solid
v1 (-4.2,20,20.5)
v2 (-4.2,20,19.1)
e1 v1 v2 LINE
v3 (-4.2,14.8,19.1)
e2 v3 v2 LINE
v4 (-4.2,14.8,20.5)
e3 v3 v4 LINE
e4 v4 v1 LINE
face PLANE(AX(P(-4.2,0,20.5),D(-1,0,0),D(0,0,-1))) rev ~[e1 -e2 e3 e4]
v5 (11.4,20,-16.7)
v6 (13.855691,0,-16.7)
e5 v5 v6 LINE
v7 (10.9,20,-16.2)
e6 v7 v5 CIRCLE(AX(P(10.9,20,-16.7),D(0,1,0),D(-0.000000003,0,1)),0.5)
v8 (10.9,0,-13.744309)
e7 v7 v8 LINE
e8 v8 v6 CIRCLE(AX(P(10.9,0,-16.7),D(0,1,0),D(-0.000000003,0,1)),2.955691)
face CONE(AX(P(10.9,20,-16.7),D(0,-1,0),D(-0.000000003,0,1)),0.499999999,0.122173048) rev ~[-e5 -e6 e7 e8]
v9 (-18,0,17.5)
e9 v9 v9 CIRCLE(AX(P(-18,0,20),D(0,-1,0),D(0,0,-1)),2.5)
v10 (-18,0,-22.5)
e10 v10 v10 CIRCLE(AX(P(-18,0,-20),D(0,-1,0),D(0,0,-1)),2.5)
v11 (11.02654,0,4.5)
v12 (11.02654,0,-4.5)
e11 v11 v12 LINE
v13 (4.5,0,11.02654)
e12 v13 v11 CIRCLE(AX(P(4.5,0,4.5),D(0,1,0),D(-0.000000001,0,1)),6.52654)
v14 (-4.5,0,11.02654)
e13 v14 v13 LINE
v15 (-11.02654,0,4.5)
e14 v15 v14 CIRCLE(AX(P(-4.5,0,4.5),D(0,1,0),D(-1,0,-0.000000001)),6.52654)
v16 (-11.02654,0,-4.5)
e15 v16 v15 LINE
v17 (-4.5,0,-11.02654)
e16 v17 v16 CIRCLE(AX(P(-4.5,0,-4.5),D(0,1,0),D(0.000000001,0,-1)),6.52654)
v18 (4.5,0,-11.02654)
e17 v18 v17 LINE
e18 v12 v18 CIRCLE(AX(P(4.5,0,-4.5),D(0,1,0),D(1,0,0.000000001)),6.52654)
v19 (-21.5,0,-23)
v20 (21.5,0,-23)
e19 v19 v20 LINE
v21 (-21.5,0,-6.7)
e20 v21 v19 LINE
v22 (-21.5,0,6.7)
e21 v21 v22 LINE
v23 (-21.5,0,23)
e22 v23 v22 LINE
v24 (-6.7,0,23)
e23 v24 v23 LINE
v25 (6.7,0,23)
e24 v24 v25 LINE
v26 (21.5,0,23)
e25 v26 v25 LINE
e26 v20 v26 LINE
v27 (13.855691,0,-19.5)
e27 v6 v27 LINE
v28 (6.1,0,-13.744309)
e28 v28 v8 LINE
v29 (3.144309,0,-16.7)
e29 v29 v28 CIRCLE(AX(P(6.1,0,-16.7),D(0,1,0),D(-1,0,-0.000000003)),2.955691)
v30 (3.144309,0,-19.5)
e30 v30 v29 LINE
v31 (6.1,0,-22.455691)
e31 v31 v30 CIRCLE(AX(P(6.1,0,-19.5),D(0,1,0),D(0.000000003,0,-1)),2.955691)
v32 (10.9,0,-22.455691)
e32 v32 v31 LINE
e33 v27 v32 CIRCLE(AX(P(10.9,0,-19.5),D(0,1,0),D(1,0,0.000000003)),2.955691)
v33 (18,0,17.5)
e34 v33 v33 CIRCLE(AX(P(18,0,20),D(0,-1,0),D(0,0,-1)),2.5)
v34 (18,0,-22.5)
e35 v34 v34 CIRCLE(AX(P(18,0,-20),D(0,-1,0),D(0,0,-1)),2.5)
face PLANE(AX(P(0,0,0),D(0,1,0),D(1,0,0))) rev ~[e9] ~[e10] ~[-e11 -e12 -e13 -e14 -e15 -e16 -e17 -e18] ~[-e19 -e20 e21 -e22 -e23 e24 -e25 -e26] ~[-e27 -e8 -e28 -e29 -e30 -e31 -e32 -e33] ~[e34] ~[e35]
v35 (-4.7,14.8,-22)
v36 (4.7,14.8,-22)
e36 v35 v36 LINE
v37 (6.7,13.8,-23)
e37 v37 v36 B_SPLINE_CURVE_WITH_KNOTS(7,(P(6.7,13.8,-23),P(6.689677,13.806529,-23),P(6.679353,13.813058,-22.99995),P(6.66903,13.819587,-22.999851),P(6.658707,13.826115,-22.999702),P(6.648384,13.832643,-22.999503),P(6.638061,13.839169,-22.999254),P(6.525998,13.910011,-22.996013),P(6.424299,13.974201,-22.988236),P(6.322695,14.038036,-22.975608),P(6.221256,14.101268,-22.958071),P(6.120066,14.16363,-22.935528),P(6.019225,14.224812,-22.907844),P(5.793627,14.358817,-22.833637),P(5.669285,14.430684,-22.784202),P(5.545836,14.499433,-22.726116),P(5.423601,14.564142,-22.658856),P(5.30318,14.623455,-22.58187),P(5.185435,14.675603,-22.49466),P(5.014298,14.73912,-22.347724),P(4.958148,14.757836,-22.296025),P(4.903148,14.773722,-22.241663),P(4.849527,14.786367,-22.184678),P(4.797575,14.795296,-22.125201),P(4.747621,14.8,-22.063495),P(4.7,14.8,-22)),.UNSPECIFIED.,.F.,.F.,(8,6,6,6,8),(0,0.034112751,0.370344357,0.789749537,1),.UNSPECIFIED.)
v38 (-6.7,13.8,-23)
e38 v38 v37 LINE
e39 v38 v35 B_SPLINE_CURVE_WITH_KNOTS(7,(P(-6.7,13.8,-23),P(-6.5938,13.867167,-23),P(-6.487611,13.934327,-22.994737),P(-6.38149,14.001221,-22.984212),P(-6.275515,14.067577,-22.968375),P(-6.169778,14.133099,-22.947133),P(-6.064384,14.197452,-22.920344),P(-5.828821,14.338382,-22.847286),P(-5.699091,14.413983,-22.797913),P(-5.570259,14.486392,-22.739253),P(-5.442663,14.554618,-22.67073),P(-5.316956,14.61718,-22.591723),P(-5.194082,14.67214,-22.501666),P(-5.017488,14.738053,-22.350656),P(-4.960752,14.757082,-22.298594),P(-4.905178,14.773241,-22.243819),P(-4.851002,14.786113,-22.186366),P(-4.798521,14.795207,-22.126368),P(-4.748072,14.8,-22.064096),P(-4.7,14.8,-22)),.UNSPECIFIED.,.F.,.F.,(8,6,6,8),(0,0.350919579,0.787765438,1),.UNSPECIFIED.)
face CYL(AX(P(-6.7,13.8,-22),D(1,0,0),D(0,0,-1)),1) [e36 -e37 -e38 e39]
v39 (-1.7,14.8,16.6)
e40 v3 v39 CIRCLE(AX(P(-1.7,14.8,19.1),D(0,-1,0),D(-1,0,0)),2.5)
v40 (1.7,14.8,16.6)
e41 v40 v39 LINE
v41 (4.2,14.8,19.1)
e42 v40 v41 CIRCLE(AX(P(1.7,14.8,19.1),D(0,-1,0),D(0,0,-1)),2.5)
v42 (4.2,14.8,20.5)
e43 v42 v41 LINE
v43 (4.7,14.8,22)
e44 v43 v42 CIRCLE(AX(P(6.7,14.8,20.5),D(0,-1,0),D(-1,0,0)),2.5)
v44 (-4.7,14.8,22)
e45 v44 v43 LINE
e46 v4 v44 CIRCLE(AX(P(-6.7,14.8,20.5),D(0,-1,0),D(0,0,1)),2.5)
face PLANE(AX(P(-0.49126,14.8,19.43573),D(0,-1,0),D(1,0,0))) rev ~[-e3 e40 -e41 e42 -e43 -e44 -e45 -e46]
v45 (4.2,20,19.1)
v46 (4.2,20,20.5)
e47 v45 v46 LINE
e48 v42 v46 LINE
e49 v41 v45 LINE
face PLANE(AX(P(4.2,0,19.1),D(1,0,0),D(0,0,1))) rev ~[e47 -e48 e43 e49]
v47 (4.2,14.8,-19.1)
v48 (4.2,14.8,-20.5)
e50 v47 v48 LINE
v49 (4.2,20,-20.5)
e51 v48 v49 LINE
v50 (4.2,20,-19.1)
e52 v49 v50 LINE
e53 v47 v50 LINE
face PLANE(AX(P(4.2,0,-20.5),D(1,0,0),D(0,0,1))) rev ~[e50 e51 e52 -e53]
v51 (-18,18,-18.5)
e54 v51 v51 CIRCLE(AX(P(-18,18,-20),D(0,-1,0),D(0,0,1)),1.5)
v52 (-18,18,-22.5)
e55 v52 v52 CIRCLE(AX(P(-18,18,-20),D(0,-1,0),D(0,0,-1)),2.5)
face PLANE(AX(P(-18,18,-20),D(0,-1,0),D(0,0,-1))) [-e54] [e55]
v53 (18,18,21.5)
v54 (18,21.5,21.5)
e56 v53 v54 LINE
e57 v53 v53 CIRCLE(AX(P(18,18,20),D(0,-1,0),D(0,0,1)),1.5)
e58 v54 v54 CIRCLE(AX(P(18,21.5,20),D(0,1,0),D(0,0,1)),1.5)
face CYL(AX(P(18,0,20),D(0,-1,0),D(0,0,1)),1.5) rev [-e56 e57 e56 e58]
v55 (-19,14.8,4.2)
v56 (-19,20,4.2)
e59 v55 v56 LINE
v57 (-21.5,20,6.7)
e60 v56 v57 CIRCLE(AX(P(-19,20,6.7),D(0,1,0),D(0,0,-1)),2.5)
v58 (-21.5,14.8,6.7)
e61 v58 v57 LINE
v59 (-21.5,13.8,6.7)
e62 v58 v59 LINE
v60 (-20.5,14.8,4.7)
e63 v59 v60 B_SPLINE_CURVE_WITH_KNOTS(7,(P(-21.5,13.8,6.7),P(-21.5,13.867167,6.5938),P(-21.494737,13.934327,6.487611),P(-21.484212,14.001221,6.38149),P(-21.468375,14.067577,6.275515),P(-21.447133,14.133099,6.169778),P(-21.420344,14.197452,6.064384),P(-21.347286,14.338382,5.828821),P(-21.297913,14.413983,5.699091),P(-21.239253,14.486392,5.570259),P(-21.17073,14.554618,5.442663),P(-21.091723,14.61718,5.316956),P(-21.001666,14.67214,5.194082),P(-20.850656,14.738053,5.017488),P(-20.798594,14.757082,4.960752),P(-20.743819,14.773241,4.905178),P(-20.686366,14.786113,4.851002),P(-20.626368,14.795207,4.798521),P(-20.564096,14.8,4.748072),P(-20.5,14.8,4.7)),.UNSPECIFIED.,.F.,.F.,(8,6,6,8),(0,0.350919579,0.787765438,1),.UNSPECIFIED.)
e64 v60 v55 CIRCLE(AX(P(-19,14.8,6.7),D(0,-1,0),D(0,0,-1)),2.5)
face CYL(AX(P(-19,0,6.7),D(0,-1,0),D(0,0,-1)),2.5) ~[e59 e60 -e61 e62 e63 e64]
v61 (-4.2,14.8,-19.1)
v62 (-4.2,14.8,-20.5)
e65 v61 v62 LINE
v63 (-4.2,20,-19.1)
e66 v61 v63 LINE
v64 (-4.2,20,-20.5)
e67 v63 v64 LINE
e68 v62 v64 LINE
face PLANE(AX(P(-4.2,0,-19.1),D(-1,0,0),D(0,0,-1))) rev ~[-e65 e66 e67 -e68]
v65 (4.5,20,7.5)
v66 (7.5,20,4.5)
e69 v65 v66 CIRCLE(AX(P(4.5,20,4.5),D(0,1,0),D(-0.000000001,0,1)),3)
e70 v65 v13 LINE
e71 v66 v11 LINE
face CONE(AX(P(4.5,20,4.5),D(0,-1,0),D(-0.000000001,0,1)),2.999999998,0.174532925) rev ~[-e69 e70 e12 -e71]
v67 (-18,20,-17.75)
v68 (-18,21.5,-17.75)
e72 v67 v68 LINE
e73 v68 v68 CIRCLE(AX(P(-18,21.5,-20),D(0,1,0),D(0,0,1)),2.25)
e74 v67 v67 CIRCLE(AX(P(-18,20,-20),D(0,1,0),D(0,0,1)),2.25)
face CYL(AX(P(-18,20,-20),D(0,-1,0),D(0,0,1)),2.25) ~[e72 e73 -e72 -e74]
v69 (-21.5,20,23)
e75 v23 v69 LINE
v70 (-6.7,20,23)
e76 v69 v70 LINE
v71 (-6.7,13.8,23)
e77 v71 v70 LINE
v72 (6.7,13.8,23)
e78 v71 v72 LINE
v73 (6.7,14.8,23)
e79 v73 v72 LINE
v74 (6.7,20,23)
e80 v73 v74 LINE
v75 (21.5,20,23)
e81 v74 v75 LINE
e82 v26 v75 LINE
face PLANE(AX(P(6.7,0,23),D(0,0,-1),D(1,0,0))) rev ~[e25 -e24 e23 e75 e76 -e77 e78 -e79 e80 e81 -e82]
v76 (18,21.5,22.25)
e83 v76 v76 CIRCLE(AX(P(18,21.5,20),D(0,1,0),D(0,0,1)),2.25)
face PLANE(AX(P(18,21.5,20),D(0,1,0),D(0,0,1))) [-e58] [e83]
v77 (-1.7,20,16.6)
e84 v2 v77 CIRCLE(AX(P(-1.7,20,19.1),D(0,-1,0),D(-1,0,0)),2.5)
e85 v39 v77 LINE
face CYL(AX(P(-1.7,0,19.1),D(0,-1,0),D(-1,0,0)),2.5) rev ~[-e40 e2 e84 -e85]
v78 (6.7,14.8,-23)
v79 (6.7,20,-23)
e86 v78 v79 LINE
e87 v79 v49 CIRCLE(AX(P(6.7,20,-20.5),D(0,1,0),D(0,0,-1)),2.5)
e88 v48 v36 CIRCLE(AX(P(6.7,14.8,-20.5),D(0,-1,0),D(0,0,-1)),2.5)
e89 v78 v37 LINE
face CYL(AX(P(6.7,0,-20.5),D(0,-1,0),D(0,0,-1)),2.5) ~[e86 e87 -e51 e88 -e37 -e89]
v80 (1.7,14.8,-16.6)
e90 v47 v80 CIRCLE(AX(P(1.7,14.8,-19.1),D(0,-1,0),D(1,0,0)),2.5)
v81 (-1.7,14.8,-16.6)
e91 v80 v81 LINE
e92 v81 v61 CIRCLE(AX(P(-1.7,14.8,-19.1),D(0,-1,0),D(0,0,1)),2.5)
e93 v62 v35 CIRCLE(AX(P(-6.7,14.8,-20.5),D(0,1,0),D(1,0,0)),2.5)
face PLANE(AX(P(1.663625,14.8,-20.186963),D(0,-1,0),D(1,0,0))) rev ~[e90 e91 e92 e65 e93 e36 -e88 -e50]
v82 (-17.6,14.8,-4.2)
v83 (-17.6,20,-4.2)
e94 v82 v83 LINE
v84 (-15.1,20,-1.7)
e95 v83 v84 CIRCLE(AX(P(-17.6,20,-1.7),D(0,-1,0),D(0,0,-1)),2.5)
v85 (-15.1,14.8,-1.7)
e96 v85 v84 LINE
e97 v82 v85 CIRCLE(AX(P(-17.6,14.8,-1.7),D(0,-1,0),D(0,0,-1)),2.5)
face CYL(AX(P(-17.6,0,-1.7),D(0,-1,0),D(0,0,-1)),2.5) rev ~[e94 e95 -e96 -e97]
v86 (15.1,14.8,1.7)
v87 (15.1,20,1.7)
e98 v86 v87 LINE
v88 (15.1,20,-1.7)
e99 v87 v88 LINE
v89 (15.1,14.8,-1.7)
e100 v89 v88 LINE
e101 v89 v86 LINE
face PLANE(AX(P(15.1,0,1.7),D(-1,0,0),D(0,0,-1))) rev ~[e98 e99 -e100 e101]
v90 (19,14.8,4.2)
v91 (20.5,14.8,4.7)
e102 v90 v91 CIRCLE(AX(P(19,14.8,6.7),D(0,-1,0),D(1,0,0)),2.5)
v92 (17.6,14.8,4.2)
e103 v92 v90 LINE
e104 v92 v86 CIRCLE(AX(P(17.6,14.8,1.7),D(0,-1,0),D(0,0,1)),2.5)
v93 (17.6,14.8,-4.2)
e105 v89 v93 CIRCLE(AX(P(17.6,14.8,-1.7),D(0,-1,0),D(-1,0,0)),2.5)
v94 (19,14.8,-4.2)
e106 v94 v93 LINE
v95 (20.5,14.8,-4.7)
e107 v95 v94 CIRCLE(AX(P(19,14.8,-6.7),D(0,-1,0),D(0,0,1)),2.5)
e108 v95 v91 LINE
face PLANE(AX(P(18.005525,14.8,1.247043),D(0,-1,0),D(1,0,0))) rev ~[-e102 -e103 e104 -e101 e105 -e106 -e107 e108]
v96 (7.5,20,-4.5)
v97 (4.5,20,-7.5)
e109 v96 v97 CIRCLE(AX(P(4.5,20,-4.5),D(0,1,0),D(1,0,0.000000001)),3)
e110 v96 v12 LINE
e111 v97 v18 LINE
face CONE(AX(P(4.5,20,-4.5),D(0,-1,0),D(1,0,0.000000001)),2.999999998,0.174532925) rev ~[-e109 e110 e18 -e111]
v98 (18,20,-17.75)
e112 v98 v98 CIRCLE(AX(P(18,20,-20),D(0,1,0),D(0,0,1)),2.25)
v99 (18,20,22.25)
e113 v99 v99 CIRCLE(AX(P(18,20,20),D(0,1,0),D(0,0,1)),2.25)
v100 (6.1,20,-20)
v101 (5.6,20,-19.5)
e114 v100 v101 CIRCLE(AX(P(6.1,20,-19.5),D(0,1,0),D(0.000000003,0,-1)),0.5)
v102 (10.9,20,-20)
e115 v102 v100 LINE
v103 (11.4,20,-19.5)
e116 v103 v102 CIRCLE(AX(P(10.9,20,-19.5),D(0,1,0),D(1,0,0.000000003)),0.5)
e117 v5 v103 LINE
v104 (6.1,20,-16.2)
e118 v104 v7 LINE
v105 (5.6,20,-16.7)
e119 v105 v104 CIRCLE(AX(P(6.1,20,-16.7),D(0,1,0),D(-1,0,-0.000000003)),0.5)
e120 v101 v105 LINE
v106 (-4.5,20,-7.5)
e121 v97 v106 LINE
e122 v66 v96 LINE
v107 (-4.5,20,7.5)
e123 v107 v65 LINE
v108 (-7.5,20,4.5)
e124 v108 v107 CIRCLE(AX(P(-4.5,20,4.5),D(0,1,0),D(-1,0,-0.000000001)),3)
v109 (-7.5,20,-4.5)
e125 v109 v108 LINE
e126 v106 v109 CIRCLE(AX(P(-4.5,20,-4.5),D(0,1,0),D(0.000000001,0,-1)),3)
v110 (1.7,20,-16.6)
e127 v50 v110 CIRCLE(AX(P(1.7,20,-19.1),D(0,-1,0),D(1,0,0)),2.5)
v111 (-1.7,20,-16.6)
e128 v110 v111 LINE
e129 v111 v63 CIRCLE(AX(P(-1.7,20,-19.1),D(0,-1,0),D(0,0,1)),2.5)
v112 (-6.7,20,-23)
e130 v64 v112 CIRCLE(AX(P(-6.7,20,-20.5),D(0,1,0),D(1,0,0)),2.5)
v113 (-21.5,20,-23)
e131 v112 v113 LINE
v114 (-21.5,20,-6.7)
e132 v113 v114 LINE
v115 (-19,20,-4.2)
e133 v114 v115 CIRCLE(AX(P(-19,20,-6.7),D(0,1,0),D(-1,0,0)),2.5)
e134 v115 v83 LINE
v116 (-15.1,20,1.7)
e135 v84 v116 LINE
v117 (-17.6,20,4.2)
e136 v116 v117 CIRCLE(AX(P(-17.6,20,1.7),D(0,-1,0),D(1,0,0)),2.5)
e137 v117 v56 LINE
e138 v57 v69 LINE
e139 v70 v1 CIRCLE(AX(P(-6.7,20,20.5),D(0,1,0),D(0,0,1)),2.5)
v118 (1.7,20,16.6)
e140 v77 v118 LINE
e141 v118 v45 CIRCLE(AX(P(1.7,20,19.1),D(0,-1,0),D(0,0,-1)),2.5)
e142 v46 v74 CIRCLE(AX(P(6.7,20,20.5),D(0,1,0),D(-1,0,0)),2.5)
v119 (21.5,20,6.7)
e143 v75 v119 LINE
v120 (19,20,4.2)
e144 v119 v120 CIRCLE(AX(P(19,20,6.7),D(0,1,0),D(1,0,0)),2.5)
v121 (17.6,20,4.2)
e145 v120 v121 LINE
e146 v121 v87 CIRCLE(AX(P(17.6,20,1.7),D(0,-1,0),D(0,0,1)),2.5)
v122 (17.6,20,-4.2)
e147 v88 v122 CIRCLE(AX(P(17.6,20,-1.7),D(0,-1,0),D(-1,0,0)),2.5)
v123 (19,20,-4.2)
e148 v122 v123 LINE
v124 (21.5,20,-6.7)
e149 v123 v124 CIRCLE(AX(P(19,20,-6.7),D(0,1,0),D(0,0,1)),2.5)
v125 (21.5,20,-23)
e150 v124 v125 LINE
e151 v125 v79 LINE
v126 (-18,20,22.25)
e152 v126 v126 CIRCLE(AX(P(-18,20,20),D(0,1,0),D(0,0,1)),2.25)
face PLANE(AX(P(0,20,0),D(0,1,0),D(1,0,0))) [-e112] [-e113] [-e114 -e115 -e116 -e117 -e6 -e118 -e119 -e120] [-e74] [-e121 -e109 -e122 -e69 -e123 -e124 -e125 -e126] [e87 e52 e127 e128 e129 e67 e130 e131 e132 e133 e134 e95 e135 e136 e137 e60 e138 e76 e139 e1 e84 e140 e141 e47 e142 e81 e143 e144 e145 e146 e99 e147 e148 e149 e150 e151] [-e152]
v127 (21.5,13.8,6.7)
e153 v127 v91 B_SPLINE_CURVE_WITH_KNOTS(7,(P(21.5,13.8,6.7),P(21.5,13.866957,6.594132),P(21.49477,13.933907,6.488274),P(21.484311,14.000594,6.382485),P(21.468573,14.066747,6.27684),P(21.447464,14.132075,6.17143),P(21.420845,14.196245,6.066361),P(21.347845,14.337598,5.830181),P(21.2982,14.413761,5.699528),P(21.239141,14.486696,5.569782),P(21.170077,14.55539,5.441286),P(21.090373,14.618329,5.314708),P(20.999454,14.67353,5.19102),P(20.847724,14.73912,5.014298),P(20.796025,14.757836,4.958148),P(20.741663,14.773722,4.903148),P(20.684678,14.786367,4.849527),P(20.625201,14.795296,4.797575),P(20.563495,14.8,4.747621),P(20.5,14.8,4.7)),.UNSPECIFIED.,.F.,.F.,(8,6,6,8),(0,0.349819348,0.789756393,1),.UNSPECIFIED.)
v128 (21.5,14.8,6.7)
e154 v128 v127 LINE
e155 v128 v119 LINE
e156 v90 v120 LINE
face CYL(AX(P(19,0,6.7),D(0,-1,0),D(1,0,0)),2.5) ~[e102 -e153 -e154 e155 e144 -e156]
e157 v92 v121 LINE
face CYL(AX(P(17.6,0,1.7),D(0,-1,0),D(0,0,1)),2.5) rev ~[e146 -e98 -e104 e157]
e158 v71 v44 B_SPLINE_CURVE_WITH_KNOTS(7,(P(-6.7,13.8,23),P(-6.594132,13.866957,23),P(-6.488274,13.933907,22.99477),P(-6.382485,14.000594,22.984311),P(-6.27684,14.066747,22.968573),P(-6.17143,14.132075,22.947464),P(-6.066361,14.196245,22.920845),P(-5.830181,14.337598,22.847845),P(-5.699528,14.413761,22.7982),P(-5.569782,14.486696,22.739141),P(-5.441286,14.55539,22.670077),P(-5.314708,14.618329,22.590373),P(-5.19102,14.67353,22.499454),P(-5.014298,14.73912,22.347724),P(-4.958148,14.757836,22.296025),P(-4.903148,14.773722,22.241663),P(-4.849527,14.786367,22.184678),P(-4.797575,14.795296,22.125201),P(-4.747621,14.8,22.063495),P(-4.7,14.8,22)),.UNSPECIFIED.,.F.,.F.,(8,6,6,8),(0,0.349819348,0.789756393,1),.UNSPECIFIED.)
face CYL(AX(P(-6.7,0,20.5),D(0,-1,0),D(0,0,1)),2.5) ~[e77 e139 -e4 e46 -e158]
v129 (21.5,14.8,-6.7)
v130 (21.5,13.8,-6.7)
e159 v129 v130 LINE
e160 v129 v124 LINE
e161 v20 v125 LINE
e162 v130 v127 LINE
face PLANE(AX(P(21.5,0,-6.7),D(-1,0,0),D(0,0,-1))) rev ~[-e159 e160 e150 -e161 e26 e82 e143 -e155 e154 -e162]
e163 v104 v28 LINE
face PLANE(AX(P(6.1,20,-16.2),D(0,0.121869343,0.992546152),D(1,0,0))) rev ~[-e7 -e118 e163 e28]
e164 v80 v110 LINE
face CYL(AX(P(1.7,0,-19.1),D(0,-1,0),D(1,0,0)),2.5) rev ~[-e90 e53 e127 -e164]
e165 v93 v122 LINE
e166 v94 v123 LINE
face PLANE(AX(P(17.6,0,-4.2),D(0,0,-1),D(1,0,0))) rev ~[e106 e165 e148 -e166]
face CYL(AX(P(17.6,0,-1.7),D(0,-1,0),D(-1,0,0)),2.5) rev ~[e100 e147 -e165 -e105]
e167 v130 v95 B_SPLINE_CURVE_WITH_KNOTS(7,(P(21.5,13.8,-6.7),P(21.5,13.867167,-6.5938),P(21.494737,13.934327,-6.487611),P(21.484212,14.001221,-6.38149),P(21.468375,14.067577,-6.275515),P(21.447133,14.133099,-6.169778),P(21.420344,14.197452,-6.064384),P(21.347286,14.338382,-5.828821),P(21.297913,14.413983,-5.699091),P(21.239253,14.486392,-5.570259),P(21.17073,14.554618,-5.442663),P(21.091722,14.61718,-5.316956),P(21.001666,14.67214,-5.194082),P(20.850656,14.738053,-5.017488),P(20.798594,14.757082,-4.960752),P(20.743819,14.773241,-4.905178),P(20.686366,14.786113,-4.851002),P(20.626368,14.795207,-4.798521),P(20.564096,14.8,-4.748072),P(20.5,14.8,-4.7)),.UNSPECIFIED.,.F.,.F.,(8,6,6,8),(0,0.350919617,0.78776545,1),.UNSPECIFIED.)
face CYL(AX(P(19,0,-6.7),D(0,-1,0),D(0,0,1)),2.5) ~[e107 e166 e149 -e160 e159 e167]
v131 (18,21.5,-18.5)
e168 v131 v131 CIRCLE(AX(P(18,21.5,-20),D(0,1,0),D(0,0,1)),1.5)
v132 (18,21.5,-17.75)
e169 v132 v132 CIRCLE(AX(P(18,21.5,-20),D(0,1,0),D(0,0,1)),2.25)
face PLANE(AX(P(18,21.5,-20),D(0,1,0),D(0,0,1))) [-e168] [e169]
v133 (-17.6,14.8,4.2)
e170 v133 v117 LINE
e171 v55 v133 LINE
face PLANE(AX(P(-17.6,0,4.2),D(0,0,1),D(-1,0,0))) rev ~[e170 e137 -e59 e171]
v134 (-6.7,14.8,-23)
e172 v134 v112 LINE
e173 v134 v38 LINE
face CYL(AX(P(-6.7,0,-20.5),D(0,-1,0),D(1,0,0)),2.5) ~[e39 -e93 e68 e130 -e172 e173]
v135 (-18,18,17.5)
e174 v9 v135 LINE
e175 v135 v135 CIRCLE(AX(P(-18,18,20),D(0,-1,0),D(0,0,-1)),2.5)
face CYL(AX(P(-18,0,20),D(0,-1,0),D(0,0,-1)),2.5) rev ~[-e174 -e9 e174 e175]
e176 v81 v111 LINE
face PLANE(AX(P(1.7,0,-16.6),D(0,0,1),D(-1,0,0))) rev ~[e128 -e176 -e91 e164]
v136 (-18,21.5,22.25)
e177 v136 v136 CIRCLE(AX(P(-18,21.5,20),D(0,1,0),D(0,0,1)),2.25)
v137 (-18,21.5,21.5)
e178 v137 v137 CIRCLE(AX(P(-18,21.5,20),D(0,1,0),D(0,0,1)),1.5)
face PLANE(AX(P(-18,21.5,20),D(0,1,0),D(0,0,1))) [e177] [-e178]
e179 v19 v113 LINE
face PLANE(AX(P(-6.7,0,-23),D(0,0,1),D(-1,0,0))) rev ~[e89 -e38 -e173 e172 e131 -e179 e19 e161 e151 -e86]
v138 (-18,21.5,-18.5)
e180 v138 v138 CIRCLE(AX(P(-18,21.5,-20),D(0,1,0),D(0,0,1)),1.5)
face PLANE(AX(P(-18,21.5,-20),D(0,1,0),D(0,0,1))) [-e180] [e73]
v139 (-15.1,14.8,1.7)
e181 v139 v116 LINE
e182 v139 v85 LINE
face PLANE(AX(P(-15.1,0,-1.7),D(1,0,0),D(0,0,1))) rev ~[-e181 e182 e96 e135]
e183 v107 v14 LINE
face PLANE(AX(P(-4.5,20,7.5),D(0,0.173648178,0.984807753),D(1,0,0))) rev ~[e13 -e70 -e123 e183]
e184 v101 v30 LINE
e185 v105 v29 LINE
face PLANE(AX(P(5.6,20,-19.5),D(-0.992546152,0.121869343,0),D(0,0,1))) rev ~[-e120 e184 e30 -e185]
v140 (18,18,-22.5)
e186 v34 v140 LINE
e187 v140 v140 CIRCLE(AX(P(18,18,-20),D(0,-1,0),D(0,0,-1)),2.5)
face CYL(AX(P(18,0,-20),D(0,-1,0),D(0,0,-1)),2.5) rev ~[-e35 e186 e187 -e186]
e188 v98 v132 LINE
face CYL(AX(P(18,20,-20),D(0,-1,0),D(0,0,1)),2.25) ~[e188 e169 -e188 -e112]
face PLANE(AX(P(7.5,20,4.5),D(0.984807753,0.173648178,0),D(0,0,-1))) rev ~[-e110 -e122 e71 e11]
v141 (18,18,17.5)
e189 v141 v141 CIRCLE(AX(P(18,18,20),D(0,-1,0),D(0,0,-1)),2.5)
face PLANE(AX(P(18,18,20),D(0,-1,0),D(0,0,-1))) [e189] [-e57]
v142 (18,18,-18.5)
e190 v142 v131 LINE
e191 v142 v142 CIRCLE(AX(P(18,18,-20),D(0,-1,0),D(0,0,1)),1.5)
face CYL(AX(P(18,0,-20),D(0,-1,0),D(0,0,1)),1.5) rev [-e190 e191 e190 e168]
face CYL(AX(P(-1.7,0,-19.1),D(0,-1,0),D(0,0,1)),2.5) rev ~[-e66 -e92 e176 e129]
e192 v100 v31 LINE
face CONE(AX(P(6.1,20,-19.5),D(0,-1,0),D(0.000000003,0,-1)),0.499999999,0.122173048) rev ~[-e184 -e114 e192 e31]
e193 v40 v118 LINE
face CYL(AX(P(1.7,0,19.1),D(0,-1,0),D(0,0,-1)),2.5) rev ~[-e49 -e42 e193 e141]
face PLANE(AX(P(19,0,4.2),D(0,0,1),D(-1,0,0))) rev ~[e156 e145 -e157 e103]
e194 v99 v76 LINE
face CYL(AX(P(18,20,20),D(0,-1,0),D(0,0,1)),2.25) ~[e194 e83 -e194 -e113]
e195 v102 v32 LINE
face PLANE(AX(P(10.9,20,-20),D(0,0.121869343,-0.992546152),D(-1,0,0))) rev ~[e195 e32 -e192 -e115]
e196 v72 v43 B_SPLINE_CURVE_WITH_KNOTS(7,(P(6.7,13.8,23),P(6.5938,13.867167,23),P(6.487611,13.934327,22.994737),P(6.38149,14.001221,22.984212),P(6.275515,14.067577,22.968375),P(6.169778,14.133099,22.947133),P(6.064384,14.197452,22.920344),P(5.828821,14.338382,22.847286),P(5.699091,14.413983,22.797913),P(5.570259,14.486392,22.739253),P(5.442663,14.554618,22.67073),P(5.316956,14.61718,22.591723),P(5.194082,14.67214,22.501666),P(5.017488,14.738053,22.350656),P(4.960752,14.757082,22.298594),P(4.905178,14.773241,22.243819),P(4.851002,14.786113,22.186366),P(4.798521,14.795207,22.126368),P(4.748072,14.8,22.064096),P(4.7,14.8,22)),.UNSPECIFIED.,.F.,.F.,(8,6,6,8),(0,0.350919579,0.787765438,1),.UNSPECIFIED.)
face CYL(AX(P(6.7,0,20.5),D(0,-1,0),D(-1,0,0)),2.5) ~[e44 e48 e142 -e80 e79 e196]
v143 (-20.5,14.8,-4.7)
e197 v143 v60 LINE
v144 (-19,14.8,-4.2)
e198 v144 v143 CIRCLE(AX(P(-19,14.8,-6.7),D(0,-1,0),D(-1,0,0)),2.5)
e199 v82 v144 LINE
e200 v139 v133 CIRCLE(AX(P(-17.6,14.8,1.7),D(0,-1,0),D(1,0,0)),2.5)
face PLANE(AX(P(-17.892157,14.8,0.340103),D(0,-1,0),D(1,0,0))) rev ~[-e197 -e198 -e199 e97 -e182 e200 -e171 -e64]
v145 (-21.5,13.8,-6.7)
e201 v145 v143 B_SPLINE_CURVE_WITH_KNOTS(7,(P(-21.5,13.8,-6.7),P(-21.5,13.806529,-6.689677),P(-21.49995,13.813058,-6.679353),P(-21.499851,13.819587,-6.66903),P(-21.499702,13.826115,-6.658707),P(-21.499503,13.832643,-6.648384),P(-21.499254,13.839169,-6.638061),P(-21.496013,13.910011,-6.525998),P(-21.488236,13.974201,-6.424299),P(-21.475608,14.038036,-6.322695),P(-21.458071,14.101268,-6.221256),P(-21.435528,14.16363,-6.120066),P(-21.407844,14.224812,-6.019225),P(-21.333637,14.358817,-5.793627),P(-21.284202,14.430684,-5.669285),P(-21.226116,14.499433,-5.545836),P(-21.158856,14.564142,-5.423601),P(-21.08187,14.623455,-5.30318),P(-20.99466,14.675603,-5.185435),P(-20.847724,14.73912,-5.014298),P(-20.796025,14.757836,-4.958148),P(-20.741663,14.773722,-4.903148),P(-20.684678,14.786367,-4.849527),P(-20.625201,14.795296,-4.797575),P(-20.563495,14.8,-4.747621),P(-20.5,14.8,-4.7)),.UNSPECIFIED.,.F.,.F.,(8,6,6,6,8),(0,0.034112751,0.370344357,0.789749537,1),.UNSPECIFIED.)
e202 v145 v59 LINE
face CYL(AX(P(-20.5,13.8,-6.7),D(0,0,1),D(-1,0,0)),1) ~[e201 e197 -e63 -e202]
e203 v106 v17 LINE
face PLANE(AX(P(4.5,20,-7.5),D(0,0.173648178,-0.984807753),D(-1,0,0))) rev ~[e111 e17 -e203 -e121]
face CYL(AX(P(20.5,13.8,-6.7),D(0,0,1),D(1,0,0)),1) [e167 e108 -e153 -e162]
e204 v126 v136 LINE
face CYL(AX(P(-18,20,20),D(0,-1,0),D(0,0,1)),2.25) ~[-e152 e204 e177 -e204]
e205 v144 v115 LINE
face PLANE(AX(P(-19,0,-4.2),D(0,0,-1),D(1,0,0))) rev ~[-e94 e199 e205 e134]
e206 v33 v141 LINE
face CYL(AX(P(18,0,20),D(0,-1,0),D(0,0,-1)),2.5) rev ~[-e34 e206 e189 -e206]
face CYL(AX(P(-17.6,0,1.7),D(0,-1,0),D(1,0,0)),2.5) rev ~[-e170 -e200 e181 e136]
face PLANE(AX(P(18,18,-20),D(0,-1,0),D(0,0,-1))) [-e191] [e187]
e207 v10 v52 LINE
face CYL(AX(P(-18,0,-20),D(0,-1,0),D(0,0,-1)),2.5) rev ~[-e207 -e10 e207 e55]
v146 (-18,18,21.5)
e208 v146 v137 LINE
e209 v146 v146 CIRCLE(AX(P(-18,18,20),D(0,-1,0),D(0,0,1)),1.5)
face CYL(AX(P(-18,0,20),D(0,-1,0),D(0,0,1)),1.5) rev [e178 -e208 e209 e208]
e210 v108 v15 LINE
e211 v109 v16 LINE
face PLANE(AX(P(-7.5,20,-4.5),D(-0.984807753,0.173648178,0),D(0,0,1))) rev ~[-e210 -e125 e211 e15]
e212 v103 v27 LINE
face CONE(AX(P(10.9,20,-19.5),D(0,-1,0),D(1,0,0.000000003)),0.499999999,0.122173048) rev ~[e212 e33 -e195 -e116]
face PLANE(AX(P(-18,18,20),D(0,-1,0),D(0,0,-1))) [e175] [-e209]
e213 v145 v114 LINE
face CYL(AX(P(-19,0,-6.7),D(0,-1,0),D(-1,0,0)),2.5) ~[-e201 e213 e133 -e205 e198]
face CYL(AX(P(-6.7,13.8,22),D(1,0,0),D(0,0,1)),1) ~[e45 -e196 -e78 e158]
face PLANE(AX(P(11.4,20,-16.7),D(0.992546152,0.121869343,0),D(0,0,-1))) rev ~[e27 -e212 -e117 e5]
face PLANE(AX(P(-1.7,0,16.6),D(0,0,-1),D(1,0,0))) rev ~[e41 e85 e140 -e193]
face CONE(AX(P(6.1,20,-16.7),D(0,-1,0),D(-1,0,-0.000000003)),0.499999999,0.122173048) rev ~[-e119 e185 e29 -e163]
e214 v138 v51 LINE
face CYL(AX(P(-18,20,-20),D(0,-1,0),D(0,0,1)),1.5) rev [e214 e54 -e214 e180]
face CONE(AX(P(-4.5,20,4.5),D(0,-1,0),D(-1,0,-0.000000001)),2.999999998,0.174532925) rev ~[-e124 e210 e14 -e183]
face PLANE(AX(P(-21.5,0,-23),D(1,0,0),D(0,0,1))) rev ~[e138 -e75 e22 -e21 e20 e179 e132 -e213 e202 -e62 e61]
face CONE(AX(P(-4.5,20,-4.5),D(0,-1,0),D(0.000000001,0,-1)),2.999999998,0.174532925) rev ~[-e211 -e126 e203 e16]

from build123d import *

# Parameters (mm, degrees)
ESQUISSE1_R             = 1.5
BOSS_EXTRU_1_DEPTH      = 20
ESQUISSE2_R             = 2.25
ESQUISSE2_R_2           = 1.5
BOSS_EXTRU_2_DEPTH      = 1.5
ESQUISSE6_W             = 7.215685205
ESQUISSE6_H             = 18.365547593
ESQUISSE6_W_2           = 15.795882497
ESQUISSE6_H_2           = 7.128539117
ESQUISSE6_W_3           = 6.98895005
ESQUISSE6_H_3           = 20.179428837
BOSS_EXTRU_3_DEPTH      = 14.8
ENL_V_MAT_EXTRU_1_DEPTH = 20
ENL_V_MAT_EXTRU_1_DRAFT = 10
ENL_V_MAT_EXTRU_2_DEPTH = 20
ENL_V_MAT_EXTRU_2_DRAFT = 7
ESQUISSE5_R             = 2.5
ENL_V_MAT_EXTRU_3_DEPTH = 18
CONG_4_R                = 1
CONG_5_R                = 1
CONG_6_R                = 1
CONG_7_R                = 1


with BuildPart() as part:
    # Esquisse1 → Boss.-Extru.1 (new body)
    with BuildSketch(Plane(origin=(0, 0, 0), x_dir=(1, 0, 0), z_dir=(0, 1, 0))):
        with BuildLine():
            Line((-19, 4.2), (-17.6, 4.2))
            ThreePointArc((-17.6, 4.2), (-15.832233047, 3.467766953), (-15.1, 1.7))
            Line((-15.1, 1.7), (-15.1, -1.7))
            ThreePointArc((-15.1, -1.7), (-15.832233047, -3.467766953), (-17.6, -4.2))
            Line((-17.6, -4.2), (-19, -4.2))
            ThreePointArc((-19, -4.2), (-20.767766953, -4.932233047), (-21.5, -6.7))
            Line((-21.5, -6.7), (-21.5, -20.5))
            Line((-21.5, -20.5), (-21.5, -23))
            Line((-21.5, -23), (-19, -23))
            Line((-19, -23), (-6.7, -23))
            ThreePointArc((-6.7, -23), (-4.932233047, -22.267766953), (-4.2, -20.5))
            Line((-4.2, -20.5), (-4.2, -19.1))
            ThreePointArc((-4.2, -19.1), (-3.467766953, -17.332233047), (-1.7, -16.6))
            Line((-1.7, -16.6), (1.7, -16.6))
            ThreePointArc((1.7, -16.6), (3.467766953, -17.332233047), (4.2, -19.1))
            Line((4.2, -19.1), (4.2, -20.5))
            ThreePointArc((4.2, -20.5), (4.932233047, -22.267766953), (6.7, -23))
            Line((6.7, -23), (19, -23))
            Line((19, -23), (21.5, -23))
            Line((21.5, -23), (21.5, -20.5))
            Line((21.5, -20.5), (21.5, -6.7))
            ThreePointArc((21.5, -6.7), (20.767766953, -4.932233047), (19, -4.2))
            Line((19, -4.2), (17.6, -4.2))
            ThreePointArc((17.6, -4.2), (15.832233047, -3.467766953), (15.1, -1.7))
            Line((15.1, -1.7), (15.1, 1.7))
            ThreePointArc((15.1, 1.7), (15.832233047, 3.467766953), (17.6, 4.2))
            Line((17.6, 4.2), (19, 4.2))
            ThreePointArc((19, 4.2), (20.767766953, 4.932233047), (21.5, 6.7))
            Line((21.5, 6.7), (21.5, 20.5))
            Line((21.5, 20.5), (21.5, 23))
            Line((21.5, 23), (19, 23))
            Line((19, 23), (6.7, 23))
            ThreePointArc((6.7, 23), (4.932233047, 22.267766953), (4.2, 20.5))
            Line((4.2, 20.5), (4.2, 19.1))
            ThreePointArc((4.2, 19.1), (3.467766953, 17.332233047), (1.7, 16.6))
            Line((1.7, 16.6), (-1.7, 16.6))
            ThreePointArc((-1.7, 16.6), (-3.467766953, 17.332233047), (-4.2, 19.1))
            Line((-4.2, 19.1), (-4.2, 20.5))
            ThreePointArc((-4.2, 20.5), (-4.932233047, 22.267766953), (-6.7, 23))
            Line((-6.7, 23), (-19, 23))
            Line((-19, 23), (-21.5, 23))
            Line((-21.5, 23), (-21.5, 20.5))
            Line((-21.5, 20.5), (-21.5, 6.7))
            ThreePointArc((-21.5, 6.7), (-20.767766953, 4.932233047), (-19, 4.2))
        make_face()
        with Locations(Location((-18, 20, 0), (0, 0, 270))):
            Circle(ESQUISSE1_R, mode=Mode.SUBTRACT)
        with Locations(Location((18, 20, 0), (0, 0, 270))):
            Circle(ESQUISSE1_R, mode=Mode.SUBTRACT)
        with Locations(Location((18, -20, 0), (0, 0, 270))):
            Circle(ESQUISSE1_R, mode=Mode.SUBTRACT)
        with Locations(Location((-18, -20, 0), (0, 0, 270))):
            Circle(ESQUISSE1_R, mode=Mode.SUBTRACT)
    extrude(amount=BOSS_EXTRU_1_DEPTH)

    # Esquisse2 → Boss.-Extru.2 (add)
    # profile 1 of 4: a face of its own
    with BuildSketch(Plane(origin=(0, 20, 0), x_dir=(1, 0, 0), z_dir=(0, 1, 0))):
        with Locations(Location((-18, 20, 0), (0, 0, 270))):
            Circle(ESQUISSE2_R)
        with Locations(Location((-18, 20, 0), (0, 0, 270))):
            Circle(ESQUISSE2_R_2, mode=Mode.SUBTRACT)
    # profile 2 of 4: a face of its own
    with BuildSketch(Plane(origin=(0, 20, 0), x_dir=(1, 0, 0), z_dir=(0, 1, 0))):
        with Locations(Location((18, 20, 0), (0, 0, 270))):
            Circle(ESQUISSE2_R)
        with Locations(Location((18, 20, 0), (0, 0, 270))):
            Circle(ESQUISSE2_R_2, mode=Mode.SUBTRACT)
    # profile 3 of 4: a face of its own
    with BuildSketch(Plane(origin=(0, 20, 0), x_dir=(1, 0, 0), z_dir=(0, 1, 0))):
        with Locations(Location((18, -20, 0), (0, 0, 270))):
            Circle(ESQUISSE2_R)
        with Locations(Location((18, -20, 0), (0, 0, 270))):
            Circle(ESQUISSE2_R_2, mode=Mode.SUBTRACT)
    # profile 4 of 4: a face of its own
    with BuildSketch(Plane(origin=(0, 20, 0), x_dir=(1, 0, 0), z_dir=(0, 1, 0))):
        with Locations(Location((-18, -20, 0), (0, 0, 270))):
            Circle(ESQUISSE2_R)
        with Locations(Location((-18, -20, 0), (0, 0, 270))):
            Circle(ESQUISSE2_R_2, mode=Mode.SUBTRACT)
    extrude(amount=BOSS_EXTRU_2_DEPTH)

    # Esquisse6 → Boss.-Extru.3 (add)
    with BuildSketch(Plane.XZ):
        with Locations((-17.892157398, 0.340102734)):
            Rectangle(ESQUISSE6_W, ESQUISSE6_H)
        with Locations((-0.491259504, 19.435730441)):
            Rectangle(ESQUISSE6_W_2, ESQUISSE6_H_2)
        with Locations((18.005524975, 1.247043355)):
            Rectangle(ESQUISSE6_W_3, ESQUISSE6_H_3)
        with BuildLine():
            Line((-4.2, -19.1), (-4.2, -20.5))
            ThreePointArc((-4.2, -20.5), (-4.932233047, -22.267766953), (-6.7, -23))
            Line((-6.7, -23), (8.691514293, -23))
            Line((8.691514293, -23), (8.691514293, -16.6))
            Line((8.691514293, -16.6), (-1.7, -16.6))
            ThreePointArc((-1.7, -16.6), (-3.467766953, -17.332233047), (-4.2, -19.1))
        make_face()
    extrude(amount=-BOSS_EXTRU_3_DEPTH)


with BuildPart() as enl_v_mat_extru_1_tool:
    # Esquisse3 → Enlèv. mat.-Extru.1 (with draft: the straight prism first)
    with BuildSketch(Plane(origin=(0, 20, 0), x_dir=(1, 0, 0), z_dir=(0, 1, 0))):
        with BuildLine():
            ThreePointArc((-4.5, 7.5), (-6.621320344, 6.621320344), (-7.5, 4.5))
            Line((-7.5, 4.5), (-7.5, -4.5))
            ThreePointArc((-7.5, -4.5), (-6.621320344, -6.621320344), (-4.5, -7.5))
            Line((-4.5, -7.5), (4.5, -7.5))
            ThreePointArc((4.5, -7.5), (6.621320344, -6.621320344), (7.5, -4.5))
            Line((7.5, -4.5), (7.5, 4.5))
            ThreePointArc((7.5, 4.5), (6.621320344, 6.621320344), (4.5, 7.5))
            Line((4.5, 7.5), (-4.5, 7.5))
        make_face()
    extrude(amount=-ENL_V_MAT_EXTRU_1_DEPTH)
    # Enlèv. mat.-Extru.1: the draft: its side faces are tilted about the plane it starts from
    enl_v_mat_extru_1_sides = [enl_v_mat_extru_1_tool.faces().sort_by_distance(p)[0] for p in [
        (-6.621320344, 10, -6.621320344),
        (-7.5, 10, 0),
        (-6.621320344, 10, 6.621320344),
        (0, 10, 7.5),
        (6.621320344, 10, 6.621320344),
        (7.5, 10, 0),
        (6.621320344, 10, -6.621320344),
        (0, 10, -7.5),
    ]]
    draft(enl_v_mat_extru_1_sides, Plane(origin=(0, 20, 0), x_dir=(1, 0, 0), z_dir=(0, 1, 0)), ENL_V_MAT_EXTRU_1_DRAFT)


with BuildPart() as part_1:
    add(part.part)

    # Enlèv. mat.-Extru.1: cut by enl_v_mat_extru_1_tool
    add(enl_v_mat_extru_1_tool.part, mode=Mode.SUBTRACT)


with BuildPart() as enl_v_mat_extru_2_tool:
    # Esquisse4 → Enlèv. mat.-Extru.2 (with draft: the straight prism first)
    with BuildSketch(Plane(origin=(0, 20, 0), x_dir=(1, 0, 0), z_dir=(0, 1, 0))):
        with BuildLine():
            ThreePointArc((6.1, 20), (5.746446609, 19.853553391), (5.6, 19.5))
            Line((5.6, 19.5), (5.6, 16.7))
            ThreePointArc((5.6, 16.7), (5.746446609, 16.346446609), (6.1, 16.2))
            Line((6.1, 16.2), (10.9, 16.2))
            ThreePointArc((10.9, 16.2), (11.253553391, 16.346446609), (11.4, 16.7))
            Line((11.4, 16.7), (11.4, 19.5))
            ThreePointArc((11.4, 19.5), (11.253553391, 19.853553391), (10.9, 20))
            Line((10.9, 20), (6.1, 20))
        make_face()
    extrude(amount=-ENL_V_MAT_EXTRU_2_DEPTH)
    # Enlèv. mat.-Extru.2: the draft: its side faces are tilted about the plane it starts from
    enl_v_mat_extru_2_sides = [enl_v_mat_extru_2_tool.faces().sort_by_distance(p)[0] for p in [
        (11.253553391, 10, -19.853553391),
        (8.5, 10, -20),
        (5.746446609, 10, -19.853553391),
        (5.6, 10, -18.1),
        (5.746446609, 10, -16.346446609),
        (8.5, 10, -16.2),
        (11.253553391, 10, -16.346446609),
        (11.4, 10, -18.1),
    ]]
    draft(enl_v_mat_extru_2_sides, Plane(origin=(0, 20, 0), x_dir=(1, 0, 0), z_dir=(0, 1, 0)), ENL_V_MAT_EXTRU_2_DRAFT)


with BuildPart() as part_2:
    add(part_1.part)

    # Enlèv. mat.-Extru.2: cut by enl_v_mat_extru_2_tool
    add(enl_v_mat_extru_2_tool.part, mode=Mode.SUBTRACT)

    # Esquisse5 → Enlèv. mat.-Extru.3 (cut)
    with BuildSketch(Plane.XZ):
        with Locations(Location((-18, 20, 0), (0, 0, 270))):
            Circle(ESQUISSE5_R)
        with Locations(Location((18, 20, 0), (0, 0, 270))):
            Circle(ESQUISSE5_R)
        with Locations(Location((18, -20, 0), (0, 0, 270))):
            Circle(ESQUISSE5_R)
        with Locations(Location((-18, -20, 0), (0, 0, 270))):
            Circle(ESQUISSE5_R)
    extrude(amount=-ENL_V_MAT_EXTRU_3_DEPTH, mode=Mode.SUBTRACT)

    # Congé4
    cong_4_edges = [part_2.edges().sort_by_distance(p)[0] for p in [
        (-21.5, 14.8, 0),
    ]]
    fillet(cong_4_edges, radius=CONG_4_R)

    # Congé5
    cong_5_edges = [part_2.edges().sort_by_distance(p)[0] for p in [
        (0, 14.8, 23),
    ]]
    fillet(cong_5_edges, radius=CONG_5_R)

    # Congé6
    cong_6_edges = [part_2.edges().sort_by_distance(p)[0] for p in [
        (21.5, 14.8, 0),
    ]]
    fillet(cong_6_edges, radius=CONG_6_R)

    # Congé7
    cong_7_edges = [part_2.edges().sort_by_distance(p)[0] for p in [
        (0, 14.8, -23),
    ]]
    fillet(cong_7_edges, radius=CONG_7_R)


solid = part_2.part
